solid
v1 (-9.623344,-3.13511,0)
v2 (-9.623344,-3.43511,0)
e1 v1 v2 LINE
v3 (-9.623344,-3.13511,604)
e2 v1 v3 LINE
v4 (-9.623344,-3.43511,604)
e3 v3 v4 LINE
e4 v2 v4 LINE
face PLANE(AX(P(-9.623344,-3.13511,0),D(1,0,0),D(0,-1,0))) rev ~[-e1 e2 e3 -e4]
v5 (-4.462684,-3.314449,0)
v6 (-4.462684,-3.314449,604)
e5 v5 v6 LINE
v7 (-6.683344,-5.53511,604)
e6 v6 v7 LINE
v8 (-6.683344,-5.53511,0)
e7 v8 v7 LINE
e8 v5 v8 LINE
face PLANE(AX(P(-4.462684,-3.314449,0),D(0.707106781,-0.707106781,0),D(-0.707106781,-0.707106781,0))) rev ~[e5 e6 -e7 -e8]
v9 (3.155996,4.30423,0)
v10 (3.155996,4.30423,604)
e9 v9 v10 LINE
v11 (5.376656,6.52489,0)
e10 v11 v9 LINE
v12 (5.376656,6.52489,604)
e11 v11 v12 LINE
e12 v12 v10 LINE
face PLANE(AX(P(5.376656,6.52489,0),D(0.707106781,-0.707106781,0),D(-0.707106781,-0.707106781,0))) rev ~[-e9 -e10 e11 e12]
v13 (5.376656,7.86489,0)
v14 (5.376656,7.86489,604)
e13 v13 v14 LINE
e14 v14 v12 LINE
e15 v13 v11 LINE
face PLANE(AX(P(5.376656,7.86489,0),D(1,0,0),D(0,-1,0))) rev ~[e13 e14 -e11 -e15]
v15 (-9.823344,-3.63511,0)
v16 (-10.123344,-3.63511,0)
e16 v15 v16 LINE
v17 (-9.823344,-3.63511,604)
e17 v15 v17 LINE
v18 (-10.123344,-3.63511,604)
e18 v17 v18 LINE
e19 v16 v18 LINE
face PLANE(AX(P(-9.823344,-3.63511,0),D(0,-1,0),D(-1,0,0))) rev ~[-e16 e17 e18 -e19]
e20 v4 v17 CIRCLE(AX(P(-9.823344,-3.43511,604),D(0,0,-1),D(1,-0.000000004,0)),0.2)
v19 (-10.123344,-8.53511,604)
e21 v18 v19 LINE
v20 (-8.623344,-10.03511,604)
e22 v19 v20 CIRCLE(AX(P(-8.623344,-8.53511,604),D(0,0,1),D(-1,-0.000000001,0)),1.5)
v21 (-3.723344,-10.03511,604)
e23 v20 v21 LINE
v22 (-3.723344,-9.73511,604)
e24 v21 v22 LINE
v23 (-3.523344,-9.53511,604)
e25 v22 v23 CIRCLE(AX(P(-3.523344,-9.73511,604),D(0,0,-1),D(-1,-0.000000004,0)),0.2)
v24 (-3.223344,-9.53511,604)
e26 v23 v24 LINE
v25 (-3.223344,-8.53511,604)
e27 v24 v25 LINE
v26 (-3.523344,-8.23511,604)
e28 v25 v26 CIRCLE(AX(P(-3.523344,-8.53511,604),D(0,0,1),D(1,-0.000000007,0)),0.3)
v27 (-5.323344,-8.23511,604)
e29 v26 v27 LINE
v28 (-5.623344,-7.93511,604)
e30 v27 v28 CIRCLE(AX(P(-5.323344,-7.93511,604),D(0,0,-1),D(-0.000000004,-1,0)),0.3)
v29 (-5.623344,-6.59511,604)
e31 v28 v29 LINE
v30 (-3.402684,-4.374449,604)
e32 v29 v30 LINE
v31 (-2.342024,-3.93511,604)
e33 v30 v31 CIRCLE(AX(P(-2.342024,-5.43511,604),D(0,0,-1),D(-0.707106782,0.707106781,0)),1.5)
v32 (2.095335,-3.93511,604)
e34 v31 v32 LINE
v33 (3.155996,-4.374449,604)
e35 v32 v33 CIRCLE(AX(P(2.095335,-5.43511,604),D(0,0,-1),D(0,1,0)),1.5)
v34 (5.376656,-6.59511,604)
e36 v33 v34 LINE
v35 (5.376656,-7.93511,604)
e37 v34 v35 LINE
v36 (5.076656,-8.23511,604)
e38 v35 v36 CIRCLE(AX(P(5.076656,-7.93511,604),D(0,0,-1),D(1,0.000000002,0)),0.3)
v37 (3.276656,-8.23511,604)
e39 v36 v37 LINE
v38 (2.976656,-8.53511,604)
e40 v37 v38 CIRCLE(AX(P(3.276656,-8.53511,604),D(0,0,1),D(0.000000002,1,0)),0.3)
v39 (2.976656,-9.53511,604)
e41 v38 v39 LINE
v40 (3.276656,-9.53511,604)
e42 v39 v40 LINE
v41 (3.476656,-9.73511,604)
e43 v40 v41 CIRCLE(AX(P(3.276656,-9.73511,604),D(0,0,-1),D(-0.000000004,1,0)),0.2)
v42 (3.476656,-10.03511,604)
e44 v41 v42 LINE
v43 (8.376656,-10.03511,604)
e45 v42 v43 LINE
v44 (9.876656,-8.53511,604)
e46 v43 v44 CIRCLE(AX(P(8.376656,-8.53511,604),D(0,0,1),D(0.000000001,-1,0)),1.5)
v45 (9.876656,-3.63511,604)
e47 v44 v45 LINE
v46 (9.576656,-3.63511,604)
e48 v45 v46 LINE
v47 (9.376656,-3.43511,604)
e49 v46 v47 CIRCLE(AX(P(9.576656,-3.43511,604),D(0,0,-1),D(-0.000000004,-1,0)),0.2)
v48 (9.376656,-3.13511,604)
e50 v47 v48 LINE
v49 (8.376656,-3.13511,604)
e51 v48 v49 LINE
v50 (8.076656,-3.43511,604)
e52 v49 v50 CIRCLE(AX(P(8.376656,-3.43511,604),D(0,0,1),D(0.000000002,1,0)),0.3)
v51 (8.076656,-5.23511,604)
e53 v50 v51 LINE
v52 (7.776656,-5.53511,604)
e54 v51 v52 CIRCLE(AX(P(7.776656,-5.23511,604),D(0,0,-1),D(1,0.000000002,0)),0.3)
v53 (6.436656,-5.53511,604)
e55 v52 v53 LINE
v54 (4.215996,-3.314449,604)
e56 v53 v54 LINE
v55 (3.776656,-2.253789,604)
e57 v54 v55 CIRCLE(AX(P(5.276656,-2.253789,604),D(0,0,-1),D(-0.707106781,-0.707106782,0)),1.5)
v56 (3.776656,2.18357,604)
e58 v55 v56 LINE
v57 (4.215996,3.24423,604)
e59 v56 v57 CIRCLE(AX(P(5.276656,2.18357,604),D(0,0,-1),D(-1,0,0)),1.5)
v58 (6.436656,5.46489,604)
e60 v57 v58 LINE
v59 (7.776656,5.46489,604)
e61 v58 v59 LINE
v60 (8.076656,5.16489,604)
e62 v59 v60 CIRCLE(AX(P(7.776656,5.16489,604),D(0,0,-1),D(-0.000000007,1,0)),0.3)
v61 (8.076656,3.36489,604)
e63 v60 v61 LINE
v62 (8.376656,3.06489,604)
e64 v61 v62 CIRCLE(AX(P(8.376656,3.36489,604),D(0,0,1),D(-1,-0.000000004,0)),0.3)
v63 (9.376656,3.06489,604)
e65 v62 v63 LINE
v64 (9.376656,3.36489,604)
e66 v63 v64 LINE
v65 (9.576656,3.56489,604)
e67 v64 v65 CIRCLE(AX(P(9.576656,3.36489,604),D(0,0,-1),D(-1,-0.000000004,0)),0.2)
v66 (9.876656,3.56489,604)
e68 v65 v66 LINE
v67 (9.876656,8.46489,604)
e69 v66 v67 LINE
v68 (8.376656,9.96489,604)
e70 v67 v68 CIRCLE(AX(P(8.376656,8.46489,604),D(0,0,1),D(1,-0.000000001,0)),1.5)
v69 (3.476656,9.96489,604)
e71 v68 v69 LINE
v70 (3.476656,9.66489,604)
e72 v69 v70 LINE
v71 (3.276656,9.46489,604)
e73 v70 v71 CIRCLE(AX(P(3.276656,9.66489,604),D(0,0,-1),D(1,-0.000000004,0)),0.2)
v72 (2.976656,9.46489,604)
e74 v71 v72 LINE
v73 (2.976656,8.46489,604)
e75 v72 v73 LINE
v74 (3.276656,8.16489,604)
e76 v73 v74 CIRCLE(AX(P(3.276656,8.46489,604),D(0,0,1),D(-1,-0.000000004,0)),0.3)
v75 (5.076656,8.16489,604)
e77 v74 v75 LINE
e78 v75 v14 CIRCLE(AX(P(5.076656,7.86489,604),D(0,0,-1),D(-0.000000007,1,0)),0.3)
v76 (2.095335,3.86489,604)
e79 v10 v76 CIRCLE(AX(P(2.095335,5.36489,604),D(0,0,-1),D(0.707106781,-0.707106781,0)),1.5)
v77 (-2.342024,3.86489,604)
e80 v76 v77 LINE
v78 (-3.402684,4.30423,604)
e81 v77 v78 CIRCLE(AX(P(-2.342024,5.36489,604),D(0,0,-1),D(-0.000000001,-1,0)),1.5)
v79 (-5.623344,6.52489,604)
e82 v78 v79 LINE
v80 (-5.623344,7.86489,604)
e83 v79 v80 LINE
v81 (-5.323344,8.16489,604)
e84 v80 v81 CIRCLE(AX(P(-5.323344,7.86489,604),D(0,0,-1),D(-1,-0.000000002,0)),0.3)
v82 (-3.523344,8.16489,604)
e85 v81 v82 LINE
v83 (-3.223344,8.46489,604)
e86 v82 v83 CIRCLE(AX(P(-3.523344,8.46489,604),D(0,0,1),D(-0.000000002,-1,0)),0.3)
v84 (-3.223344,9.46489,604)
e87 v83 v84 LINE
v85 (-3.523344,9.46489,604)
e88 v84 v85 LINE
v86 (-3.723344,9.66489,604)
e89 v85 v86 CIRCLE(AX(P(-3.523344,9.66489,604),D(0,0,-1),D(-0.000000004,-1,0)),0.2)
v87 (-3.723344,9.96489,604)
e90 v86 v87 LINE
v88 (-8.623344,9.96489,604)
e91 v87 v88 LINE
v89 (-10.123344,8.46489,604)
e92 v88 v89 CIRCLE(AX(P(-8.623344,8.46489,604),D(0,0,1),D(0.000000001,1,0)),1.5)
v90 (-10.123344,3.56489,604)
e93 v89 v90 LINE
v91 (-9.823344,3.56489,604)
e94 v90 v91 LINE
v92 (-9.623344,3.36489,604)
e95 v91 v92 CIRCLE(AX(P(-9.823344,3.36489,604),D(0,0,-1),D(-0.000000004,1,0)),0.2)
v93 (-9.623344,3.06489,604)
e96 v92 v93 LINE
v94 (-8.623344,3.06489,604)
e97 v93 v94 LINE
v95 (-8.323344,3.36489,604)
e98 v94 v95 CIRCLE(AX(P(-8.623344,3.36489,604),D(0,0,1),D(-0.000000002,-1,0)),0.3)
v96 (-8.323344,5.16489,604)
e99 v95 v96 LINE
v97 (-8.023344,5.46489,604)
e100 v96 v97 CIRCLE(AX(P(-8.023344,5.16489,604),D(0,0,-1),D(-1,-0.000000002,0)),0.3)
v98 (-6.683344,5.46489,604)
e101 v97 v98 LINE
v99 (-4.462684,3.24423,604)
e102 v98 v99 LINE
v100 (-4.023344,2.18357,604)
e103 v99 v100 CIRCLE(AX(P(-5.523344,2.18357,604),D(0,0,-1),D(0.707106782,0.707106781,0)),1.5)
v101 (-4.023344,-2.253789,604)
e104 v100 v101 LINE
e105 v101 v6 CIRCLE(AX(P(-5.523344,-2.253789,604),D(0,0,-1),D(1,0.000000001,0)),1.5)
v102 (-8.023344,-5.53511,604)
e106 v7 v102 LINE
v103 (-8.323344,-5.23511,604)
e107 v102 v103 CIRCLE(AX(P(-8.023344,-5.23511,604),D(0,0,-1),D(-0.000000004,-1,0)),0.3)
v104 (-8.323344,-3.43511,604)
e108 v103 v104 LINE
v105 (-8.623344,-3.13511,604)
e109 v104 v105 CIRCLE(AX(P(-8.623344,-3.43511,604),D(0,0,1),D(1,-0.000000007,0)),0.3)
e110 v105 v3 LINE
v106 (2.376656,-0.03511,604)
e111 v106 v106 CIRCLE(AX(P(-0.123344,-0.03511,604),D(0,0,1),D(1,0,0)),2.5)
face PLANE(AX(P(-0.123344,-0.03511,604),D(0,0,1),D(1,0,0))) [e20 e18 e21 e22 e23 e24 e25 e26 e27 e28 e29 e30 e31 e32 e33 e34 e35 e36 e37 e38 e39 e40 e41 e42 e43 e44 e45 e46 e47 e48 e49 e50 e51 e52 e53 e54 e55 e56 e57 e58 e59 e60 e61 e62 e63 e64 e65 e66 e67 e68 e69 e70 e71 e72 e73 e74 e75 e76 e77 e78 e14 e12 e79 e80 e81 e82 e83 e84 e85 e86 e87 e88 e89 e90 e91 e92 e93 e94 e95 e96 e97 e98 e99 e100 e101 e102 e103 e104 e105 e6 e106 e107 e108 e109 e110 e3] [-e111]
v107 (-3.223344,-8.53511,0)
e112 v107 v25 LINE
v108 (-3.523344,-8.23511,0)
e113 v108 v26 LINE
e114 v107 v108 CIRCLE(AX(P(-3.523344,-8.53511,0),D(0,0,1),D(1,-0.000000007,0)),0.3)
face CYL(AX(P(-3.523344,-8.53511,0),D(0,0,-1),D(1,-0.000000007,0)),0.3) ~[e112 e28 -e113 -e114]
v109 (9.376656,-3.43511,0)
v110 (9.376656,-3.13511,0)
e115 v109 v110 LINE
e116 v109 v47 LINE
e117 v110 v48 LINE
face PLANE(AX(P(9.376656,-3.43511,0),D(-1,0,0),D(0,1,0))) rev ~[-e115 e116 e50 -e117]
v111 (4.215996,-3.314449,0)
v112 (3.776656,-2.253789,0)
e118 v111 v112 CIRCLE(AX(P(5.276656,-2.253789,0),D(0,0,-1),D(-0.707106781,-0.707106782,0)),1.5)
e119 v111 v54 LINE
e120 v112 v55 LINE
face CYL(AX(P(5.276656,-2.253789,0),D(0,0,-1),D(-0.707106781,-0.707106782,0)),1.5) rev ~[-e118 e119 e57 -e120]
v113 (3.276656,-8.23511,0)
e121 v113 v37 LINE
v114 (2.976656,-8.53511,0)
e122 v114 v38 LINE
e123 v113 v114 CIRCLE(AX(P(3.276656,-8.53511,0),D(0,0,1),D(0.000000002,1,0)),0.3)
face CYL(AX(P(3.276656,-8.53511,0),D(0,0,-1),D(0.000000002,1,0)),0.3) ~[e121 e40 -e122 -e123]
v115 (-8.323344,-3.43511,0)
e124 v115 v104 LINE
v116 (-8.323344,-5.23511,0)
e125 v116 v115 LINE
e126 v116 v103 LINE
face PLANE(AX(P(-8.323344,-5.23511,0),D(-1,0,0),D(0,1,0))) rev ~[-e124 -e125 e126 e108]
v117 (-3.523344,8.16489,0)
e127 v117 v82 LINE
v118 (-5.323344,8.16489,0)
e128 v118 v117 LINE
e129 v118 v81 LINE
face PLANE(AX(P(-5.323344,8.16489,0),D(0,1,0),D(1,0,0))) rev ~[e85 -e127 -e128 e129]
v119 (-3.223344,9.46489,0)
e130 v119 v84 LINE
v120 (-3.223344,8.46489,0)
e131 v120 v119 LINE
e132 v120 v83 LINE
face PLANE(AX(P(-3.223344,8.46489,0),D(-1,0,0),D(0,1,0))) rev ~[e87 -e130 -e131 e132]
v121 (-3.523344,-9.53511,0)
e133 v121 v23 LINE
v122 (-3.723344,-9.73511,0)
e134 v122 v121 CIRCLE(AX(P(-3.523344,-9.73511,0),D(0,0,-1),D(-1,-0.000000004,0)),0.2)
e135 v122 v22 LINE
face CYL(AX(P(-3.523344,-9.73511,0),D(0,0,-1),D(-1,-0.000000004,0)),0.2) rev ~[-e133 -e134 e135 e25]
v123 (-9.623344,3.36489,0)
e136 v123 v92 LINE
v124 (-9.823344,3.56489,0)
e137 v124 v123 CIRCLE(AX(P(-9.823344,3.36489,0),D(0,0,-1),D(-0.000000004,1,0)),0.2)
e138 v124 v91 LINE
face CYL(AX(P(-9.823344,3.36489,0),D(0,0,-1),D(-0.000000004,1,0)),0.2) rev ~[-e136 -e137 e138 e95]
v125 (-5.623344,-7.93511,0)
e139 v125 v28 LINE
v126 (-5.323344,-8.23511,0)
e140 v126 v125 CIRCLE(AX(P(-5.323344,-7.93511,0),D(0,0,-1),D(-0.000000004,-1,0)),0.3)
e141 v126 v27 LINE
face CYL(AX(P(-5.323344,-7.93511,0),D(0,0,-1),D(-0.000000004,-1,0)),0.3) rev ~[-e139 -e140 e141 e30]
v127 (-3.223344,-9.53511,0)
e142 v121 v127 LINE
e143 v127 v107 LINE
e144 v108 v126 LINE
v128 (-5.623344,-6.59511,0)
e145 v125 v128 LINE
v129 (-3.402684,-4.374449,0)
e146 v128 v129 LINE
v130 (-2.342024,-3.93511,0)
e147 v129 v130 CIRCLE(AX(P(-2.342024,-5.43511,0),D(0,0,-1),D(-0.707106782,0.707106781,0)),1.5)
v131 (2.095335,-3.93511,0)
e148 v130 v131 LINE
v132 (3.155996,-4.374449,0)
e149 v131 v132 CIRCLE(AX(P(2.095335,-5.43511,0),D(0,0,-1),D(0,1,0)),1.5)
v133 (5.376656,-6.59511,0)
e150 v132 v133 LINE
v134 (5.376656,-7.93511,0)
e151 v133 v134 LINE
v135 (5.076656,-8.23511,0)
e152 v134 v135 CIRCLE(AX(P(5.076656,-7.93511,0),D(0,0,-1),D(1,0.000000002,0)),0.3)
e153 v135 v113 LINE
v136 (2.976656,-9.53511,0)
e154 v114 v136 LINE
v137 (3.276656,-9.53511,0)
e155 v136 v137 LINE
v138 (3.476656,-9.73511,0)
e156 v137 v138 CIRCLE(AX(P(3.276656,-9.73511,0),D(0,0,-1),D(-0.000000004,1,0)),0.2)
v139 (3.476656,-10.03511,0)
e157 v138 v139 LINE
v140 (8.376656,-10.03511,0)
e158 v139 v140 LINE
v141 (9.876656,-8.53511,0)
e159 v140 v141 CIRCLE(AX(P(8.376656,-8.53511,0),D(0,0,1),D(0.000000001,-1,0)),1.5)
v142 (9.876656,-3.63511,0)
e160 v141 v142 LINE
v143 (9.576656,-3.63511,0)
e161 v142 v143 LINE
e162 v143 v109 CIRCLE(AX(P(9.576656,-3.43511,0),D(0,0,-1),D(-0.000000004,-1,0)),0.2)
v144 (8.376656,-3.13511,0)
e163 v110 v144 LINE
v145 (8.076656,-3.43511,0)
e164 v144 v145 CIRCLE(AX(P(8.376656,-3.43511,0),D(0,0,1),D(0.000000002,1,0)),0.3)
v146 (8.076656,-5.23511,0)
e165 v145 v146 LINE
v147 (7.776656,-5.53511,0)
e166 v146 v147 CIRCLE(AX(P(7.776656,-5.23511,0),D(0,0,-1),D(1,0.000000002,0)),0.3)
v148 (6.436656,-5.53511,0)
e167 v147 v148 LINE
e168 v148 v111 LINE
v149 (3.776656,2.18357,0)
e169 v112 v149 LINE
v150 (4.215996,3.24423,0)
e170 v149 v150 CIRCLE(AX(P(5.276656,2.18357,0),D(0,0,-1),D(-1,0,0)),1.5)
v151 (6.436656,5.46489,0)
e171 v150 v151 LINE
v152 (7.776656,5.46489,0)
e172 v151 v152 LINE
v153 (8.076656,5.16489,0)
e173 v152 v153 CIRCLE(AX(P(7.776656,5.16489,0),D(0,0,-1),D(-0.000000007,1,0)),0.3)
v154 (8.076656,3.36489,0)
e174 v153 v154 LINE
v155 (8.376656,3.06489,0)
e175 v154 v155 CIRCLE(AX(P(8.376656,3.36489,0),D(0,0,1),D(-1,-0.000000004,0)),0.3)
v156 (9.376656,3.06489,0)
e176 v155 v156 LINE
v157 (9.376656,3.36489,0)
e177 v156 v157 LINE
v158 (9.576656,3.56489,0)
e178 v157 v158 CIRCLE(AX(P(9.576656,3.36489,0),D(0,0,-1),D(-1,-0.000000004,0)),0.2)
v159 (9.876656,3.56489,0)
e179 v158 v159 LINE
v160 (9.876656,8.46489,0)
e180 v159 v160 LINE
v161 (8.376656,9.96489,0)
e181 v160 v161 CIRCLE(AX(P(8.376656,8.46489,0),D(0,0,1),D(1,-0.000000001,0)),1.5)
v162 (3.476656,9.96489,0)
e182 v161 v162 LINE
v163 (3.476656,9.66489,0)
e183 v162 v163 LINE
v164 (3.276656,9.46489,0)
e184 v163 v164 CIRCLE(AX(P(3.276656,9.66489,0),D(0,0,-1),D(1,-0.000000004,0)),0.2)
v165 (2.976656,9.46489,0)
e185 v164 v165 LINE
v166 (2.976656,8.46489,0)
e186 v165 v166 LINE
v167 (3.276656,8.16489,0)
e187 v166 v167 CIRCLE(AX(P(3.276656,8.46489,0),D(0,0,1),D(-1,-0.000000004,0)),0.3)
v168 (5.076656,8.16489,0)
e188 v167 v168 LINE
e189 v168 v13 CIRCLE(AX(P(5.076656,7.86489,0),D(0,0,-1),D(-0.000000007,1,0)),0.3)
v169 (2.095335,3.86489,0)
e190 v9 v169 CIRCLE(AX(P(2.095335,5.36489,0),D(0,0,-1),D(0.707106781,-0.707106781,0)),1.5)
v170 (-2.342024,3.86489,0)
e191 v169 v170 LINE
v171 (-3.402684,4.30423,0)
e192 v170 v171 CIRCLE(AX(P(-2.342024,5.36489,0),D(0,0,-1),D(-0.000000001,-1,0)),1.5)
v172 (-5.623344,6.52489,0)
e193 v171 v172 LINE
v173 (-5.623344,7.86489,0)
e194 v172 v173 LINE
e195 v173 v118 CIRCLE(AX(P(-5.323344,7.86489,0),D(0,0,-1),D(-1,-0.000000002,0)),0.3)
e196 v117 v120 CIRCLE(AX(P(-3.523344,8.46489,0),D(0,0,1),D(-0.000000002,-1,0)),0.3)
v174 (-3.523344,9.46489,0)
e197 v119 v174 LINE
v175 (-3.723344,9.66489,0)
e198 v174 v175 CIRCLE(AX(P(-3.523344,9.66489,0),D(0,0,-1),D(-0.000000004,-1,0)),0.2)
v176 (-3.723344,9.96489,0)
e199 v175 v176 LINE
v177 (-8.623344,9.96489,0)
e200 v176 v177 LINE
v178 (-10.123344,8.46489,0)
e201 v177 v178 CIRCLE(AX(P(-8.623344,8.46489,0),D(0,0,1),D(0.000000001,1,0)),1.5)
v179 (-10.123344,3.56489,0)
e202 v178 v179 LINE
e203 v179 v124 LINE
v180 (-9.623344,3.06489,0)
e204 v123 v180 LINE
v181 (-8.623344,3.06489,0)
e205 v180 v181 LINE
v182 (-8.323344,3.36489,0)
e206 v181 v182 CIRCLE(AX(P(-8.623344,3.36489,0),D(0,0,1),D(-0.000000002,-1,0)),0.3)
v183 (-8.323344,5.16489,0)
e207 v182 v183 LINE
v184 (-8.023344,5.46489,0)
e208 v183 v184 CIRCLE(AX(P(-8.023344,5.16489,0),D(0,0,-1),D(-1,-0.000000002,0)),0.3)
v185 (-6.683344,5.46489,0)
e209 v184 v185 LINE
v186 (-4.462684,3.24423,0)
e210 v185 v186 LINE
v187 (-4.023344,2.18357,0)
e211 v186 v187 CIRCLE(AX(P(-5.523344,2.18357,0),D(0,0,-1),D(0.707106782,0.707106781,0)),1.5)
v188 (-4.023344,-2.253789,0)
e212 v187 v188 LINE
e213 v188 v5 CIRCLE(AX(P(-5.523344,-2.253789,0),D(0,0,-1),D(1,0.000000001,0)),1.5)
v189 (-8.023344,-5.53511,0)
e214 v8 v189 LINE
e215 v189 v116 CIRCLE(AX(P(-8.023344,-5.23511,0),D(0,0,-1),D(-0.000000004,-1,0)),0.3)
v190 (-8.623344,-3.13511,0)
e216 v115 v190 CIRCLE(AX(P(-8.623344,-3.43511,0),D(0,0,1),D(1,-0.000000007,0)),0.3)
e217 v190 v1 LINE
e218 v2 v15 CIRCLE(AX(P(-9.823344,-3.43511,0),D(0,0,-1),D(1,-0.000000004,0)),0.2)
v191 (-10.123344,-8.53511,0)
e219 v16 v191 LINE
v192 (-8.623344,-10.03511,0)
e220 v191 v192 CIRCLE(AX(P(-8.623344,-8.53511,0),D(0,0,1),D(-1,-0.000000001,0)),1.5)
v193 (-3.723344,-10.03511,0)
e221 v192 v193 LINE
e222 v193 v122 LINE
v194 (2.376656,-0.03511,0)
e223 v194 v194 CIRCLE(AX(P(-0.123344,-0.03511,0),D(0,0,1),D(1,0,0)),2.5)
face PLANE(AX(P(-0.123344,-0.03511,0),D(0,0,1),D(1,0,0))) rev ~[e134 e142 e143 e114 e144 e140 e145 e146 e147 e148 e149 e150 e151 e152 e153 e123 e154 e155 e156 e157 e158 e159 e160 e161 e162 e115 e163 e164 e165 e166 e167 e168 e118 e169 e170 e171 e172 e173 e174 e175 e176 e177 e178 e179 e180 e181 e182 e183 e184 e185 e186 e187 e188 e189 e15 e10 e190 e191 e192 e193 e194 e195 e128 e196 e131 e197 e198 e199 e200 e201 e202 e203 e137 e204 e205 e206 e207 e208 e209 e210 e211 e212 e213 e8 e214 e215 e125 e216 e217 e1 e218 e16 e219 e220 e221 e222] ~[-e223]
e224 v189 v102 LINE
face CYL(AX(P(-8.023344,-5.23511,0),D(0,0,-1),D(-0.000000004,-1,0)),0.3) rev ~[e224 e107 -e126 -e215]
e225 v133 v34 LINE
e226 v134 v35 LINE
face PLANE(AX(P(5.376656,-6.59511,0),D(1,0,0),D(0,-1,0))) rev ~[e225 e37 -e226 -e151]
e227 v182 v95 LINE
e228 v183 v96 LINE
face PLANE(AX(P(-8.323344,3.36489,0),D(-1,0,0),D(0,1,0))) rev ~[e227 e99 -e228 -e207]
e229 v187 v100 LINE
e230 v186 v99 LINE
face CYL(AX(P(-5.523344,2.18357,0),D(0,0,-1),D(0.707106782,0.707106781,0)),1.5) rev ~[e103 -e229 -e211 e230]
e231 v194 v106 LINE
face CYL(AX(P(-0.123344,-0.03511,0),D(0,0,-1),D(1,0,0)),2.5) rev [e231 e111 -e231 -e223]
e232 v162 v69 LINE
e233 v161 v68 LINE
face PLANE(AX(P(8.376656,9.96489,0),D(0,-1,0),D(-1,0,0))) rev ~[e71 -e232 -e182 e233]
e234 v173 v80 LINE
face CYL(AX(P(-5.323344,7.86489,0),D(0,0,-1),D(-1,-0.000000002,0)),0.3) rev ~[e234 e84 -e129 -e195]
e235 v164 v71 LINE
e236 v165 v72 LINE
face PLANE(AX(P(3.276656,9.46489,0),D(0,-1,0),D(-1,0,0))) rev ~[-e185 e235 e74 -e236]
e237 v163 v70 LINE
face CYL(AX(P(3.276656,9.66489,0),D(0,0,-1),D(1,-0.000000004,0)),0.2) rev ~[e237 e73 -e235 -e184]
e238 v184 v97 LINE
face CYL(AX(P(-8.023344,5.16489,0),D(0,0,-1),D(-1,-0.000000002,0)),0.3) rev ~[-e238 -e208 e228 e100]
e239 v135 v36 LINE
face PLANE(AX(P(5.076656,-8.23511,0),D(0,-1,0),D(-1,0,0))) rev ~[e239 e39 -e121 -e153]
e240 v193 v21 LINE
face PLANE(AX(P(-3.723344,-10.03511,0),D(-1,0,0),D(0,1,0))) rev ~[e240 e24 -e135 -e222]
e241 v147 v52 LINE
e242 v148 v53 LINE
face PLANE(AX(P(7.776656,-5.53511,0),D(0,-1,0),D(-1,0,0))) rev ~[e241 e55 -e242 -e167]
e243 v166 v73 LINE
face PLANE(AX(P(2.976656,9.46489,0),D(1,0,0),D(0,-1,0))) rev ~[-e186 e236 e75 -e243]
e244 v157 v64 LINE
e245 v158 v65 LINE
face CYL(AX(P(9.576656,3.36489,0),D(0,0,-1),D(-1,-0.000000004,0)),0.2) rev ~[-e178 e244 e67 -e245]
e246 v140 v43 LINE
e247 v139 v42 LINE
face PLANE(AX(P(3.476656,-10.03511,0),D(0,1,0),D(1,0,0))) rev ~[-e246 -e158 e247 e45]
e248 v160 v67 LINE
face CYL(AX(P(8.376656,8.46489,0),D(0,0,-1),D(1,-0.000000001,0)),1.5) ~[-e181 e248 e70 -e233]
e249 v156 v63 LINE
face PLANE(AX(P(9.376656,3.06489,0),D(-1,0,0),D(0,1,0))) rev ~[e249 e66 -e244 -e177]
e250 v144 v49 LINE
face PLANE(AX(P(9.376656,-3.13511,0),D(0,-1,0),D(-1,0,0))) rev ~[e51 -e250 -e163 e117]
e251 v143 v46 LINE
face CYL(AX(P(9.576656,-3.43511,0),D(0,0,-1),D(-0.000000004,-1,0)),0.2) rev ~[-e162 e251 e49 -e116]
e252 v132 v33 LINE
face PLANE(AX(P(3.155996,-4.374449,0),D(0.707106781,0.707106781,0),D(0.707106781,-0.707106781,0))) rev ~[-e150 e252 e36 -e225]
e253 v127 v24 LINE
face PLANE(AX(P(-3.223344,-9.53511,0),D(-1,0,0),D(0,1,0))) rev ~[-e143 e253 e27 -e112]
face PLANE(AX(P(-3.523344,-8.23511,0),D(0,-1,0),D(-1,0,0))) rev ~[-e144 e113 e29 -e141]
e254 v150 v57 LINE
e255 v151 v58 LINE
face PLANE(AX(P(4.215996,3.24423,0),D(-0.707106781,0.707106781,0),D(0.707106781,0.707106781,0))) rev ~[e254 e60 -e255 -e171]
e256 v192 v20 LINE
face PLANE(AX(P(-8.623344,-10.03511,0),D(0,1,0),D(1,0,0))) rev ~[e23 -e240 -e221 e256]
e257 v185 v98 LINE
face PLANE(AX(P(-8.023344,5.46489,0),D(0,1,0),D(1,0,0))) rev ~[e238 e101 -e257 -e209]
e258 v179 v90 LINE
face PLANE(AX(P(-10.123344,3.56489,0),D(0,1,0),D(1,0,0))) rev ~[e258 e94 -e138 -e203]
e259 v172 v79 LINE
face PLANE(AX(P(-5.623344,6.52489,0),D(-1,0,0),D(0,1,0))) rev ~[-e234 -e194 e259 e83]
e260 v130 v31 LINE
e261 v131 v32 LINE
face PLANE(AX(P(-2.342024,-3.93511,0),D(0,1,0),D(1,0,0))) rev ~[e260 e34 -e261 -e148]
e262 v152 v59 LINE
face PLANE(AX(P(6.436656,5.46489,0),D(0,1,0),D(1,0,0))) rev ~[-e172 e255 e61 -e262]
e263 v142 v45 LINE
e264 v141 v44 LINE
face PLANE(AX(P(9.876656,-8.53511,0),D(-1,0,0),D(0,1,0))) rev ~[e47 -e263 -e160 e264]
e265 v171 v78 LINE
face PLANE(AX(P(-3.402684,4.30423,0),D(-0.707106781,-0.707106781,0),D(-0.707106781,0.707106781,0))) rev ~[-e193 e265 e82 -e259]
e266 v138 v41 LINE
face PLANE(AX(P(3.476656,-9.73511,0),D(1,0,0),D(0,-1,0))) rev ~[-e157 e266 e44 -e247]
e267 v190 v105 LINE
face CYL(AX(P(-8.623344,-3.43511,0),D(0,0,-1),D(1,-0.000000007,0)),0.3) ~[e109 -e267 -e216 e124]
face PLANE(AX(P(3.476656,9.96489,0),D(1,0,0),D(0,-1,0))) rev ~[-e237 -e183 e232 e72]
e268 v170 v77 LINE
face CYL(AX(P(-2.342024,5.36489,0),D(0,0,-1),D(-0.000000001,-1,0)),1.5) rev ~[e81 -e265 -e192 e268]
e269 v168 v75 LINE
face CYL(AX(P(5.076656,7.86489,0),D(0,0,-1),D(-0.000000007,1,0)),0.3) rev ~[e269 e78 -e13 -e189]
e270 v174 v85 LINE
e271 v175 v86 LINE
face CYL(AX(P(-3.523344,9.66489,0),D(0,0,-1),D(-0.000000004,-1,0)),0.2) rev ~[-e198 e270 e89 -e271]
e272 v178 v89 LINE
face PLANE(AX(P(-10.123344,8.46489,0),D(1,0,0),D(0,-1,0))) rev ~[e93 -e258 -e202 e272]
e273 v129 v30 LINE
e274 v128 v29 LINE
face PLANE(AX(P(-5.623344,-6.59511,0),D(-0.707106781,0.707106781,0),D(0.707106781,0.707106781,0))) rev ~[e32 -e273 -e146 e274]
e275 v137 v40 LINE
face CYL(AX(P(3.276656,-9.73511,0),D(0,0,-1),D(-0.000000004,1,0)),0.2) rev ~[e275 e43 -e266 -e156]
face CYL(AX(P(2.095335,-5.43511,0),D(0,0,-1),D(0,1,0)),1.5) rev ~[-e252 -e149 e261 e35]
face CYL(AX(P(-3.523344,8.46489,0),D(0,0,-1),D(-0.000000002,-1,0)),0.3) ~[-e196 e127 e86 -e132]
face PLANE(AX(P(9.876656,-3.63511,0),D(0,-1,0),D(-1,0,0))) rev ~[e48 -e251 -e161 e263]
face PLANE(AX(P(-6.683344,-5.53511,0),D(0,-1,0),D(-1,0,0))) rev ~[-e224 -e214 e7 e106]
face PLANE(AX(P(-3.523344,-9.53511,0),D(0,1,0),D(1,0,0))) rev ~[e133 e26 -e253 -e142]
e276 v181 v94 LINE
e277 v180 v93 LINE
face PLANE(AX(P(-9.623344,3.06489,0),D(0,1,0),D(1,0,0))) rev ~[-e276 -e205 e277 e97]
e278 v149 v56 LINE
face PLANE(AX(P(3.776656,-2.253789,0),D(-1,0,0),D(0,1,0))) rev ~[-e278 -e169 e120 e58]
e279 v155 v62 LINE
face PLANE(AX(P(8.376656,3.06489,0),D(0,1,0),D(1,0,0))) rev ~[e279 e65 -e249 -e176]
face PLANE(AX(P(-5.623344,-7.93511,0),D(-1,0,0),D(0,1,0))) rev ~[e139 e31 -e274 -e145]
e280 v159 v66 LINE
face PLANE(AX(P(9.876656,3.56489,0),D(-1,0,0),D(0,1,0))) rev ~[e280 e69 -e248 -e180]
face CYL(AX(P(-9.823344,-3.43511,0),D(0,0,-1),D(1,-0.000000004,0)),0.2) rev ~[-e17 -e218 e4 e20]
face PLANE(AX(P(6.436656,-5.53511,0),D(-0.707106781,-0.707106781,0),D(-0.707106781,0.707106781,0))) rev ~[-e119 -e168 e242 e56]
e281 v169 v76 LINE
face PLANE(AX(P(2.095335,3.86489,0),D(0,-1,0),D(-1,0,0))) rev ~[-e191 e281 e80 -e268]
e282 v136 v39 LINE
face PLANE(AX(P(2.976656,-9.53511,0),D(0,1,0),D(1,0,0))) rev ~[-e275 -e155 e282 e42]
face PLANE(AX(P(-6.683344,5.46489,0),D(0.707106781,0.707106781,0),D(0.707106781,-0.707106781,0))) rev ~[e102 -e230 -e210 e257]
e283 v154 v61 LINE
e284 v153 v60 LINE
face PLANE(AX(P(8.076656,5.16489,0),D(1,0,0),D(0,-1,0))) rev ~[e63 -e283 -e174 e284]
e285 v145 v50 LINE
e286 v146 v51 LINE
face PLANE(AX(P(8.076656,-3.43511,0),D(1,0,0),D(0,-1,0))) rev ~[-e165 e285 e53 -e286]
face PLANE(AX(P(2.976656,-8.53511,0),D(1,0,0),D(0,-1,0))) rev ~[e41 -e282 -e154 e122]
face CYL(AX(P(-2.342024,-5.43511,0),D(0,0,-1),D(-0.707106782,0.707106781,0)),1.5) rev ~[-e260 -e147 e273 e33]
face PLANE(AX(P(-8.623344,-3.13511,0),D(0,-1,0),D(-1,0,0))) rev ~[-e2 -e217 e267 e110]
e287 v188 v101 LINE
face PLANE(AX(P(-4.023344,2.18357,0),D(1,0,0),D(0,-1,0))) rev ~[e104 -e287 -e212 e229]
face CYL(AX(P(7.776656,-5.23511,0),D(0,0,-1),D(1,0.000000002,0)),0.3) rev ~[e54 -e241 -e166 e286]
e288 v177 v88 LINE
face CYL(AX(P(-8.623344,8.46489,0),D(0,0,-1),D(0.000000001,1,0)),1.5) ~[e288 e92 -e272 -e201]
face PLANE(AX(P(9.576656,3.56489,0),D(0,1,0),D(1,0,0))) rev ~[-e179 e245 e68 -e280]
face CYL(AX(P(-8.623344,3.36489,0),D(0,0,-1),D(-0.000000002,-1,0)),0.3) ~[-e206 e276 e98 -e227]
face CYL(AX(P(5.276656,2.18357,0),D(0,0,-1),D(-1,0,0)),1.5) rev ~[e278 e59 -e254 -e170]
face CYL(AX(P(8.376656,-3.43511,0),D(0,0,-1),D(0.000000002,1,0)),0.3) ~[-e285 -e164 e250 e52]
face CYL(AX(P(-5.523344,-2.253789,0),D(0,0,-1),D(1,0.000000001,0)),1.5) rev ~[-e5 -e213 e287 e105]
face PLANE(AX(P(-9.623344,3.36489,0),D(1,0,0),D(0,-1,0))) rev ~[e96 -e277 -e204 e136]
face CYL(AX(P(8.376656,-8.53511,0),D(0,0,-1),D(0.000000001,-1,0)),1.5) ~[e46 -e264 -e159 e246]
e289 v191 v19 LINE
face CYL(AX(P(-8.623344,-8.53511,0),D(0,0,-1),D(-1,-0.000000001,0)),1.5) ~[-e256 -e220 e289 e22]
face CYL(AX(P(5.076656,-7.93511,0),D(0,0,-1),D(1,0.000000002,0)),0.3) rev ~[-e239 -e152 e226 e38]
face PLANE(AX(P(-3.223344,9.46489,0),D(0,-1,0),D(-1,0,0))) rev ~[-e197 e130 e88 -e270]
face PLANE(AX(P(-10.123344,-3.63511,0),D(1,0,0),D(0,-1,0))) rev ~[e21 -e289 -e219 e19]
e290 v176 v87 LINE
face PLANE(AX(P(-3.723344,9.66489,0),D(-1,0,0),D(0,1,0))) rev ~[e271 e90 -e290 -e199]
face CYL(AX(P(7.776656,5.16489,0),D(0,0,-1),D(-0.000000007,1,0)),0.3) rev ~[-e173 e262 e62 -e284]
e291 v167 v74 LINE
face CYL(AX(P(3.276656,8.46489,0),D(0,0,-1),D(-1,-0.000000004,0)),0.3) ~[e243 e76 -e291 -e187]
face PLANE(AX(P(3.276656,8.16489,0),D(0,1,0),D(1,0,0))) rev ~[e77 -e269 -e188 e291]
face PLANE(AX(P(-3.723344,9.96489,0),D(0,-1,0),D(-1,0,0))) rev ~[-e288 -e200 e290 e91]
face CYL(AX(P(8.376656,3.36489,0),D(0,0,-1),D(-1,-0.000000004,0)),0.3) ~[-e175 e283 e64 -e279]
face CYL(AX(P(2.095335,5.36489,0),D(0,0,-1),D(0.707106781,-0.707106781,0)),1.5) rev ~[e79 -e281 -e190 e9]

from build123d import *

# Parameters (mm, degrees)
SKETCH_1_R      = 2.5
EXTRUDE_1_DEPTH = 604


with BuildPart() as part:
    # 草图1 → 凸台-拉伸1 (new body)
    with BuildSketch(Plane.XY):
        with BuildLine():
            Line((4.215995631, 3.244230202), (6.436655803, 5.464890373))
            Line((6.436655803, 5.464890373), (7.776655803, 5.464890373))
            ThreePointArc((7.776655803, 5.464890373), (7.988787838, 5.377022408), (8.076655803, 5.164890373))
            Line((8.076655803, 5.164890373), (8.076655803, 3.364890373))
            ThreePointArc((8.076655803, 3.364890373), (8.164523769, 3.152758339), (8.376655803, 3.064890373))
            Line((8.376655803, 3.064890373), (9.376655803, 3.064890373))
            Line((9.376655803, 3.064890373), (9.376655803, 3.364890373))
            ThreePointArc((9.376655803, 3.364890373), (9.435234447, 3.50631173), (9.576655803, 3.564890373))
            Line((9.576655803, 3.564890373), (9.876655803, 3.564890373))
            Line((9.876655803, 3.564890373), (9.876655803, 8.464890373))
            ThreePointArc((9.876655803, 8.464890373), (9.437315975, 9.525550545), (8.376655803, 9.964890373))
            Line((8.376655803, 9.964890373), (3.476655803, 9.964890373))
            Line((3.476655803, 9.964890373), (3.476655803, 9.664890373))
            ThreePointArc((3.476655803, 9.664890373), (3.418077159, 9.523469017), (3.276655803, 9.464890373))
            Line((3.276655803, 9.464890373), (2.976655803, 9.464890373))
            Line((2.976655803, 9.464890373), (2.976655803, 8.464890373))
            ThreePointArc((2.976655803, 8.464890373), (3.064523769, 8.252758339), (3.276655803, 8.164890373))
            Line((3.276655803, 8.164890373), (5.076655803, 8.164890373))
            ThreePointArc((5.076655803, 8.164890373), (5.288787838, 8.077022408), (5.376655803, 7.864890373))
            Line((5.376655803, 7.864890373), (5.376655803, 6.524890373))
            Line((5.376655803, 6.524890373), (3.155995631, 4.304230202))
            ThreePointArc((3.155995631, 4.304230202), (2.669360608, 3.979071075), (2.09533546, 3.864890373))
            Line((2.09533546, 3.864890373), (-2.342023853, 3.864890373))
            ThreePointArc((-2.342023853, 3.864890373), (-2.916049002, 3.979071075), (-3.402684025, 4.304230202))
            Line((-3.402684025, 4.304230202), (-5.623344197, 6.524890373))
            Line((-5.623344197, 6.524890373), (-5.623344197, 7.864890373))
            ThreePointArc((-5.623344197, 7.864890373), (-5.535476231, 8.077022408), (-5.323344197, 8.164890373))
            Line((-5.323344197, 8.164890373), (-3.523344197, 8.164890373))
            ThreePointArc((-3.523344197, 8.164890373), (-3.311212162, 8.252758339), (-3.223344197, 8.464890373))
            Line((-3.223344197, 8.464890373), (-3.223344197, 9.464890373))
            Line((-3.223344197, 9.464890373), (-3.523344197, 9.464890373))
            ThreePointArc((-3.523344197, 9.464890373), (-3.664765553, 9.523469017), (-3.723344197, 9.664890373))
            Line((-3.723344197, 9.664890373), (-3.723344197, 9.964890373))
            Line((-3.723344197, 9.964890373), (-8.623344197, 9.964890373))
            ThreePointArc((-8.623344197, 9.964890373), (-9.684004369, 9.525550545), (-10.123344197, 8.464890373))
            Line((-10.123344197, 8.464890373), (-10.123344197, 3.564890373))
            Line((-10.123344197, 3.564890373), (-9.823344197, 3.564890373))
            ThreePointArc((-9.823344197, 3.564890373), (-9.681922841, 3.50631173), (-9.623344197, 3.364890373))
            Line((-9.623344197, 3.364890373), (-9.623344197, 3.064890373))
            Line((-9.623344197, 3.064890373), (-8.623344197, 3.064890373))
            ThreePointArc((-8.623344197, 3.064890373), (-8.411212162, 3.152758339), (-8.323344197, 3.364890373))
            Line((-8.323344197, 3.364890373), (-8.323344197, 5.164890373))
            ThreePointArc((-8.323344197, 5.164890373), (-8.235476231, 5.377022408), (-8.023344197, 5.464890373))
            Line((-8.023344197, 5.464890373), (-6.683344197, 5.464890373))
            Line((-6.683344197, 5.464890373), (-4.462684025, 3.244230202))
            ThreePointArc((-4.462684025, 3.244230202), (-4.137524898, 2.757595178), (-4.023344197, 2.18357003))
            Line((-4.023344197, 2.18357003), (-4.023344197, -2.253789283))
            ThreePointArc((-4.023344197, -2.253789283), (-4.137524898, -2.827814432), (-4.462684025, -3.314449455))
            Line((-4.462684025, -3.314449455), (-6.683344197, -5.535109627))
            Line((-6.683344197, -5.535109627), (-8.023344197, -5.535109627))
            ThreePointArc((-8.023344197, -5.535109627), (-8.235476231, -5.447241661), (-8.323344197, -5.235109627))
            Line((-8.323344197, -5.235109627), (-8.323344197, -3.435109627))
            ThreePointArc((-8.323344197, -3.435109627), (-8.411212162, -3.222977592), (-8.623344197, -3.135109627))
            Line((-8.623344197, -3.135109627), (-9.623344197, -3.135109627))
            Line((-9.623344197, -3.135109627), (-9.623344197, -3.435109627))
            ThreePointArc((-9.623344197, -3.435109627), (-9.681922841, -3.576530983), (-9.823344197, -3.635109627))
            Line((-9.823344197, -3.635109627), (-10.123344197, -3.635109627))
            Line((-10.123344197, -3.635109627), (-10.123344197, -8.535109627))
            ThreePointArc((-10.123344197, -8.535109627), (-9.684004369, -9.595769798), (-8.623344197, -10.035109627))
            Line((-8.623344197, -10.035109627), (-3.723344197, -10.035109627))
            Line((-3.723344197, -10.035109627), (-3.723344197, -9.735109627))
            ThreePointArc((-3.723344197, -9.735109627), (-3.664765553, -9.59368827), (-3.523344197, -9.535109627))
            Line((-3.523344197, -9.535109627), (-3.223344197, -9.535109627))
            Line((-3.223344197, -9.535109627), (-3.223344197, -8.535109627))
            ThreePointArc((-3.223344197, -8.535109627), (-3.311212162, -8.322977592), (-3.523344197, -8.235109627))
            Line((-3.523344197, -8.235109627), (-5.323344197, -8.235109627))
            ThreePointArc((-5.323344197, -8.235109627), (-5.535476231, -8.147241661), (-5.623344197, -7.935109627))
            Line((-5.623344197, -7.935109627), (-5.623344197, -6.595109627))
            Line((-5.623344197, -6.595109627), (-3.402684025, -4.374449455))
            ThreePointArc((-3.402684025, -4.374449455), (-2.916049002, -4.049290328), (-2.342023853, -3.935109627))
            Line((-2.342023853, -3.935109627), (2.09533546, -3.935109627))
            ThreePointArc((2.09533546, -3.935109627), (2.669360608, -4.049290328), (3.155995631, -4.374449455))
            Line((3.155995631, -4.374449455), (5.376655803, -6.595109627))
            Line((5.376655803, -6.595109627), (5.376655803, -7.935109627))
            ThreePointArc((5.376655803, -7.935109627), (5.288787838, -8.147241661), (5.076655803, -8.235109627))
            Line((5.076655803, -8.235109627), (3.276655803, -8.235109627))
            ThreePointArc((3.276655803, -8.235109627), (3.064523769, -8.322977592), (2.976655803, -8.535109627))
            Line((2.976655803, -8.535109627), (2.976655803, -9.535109627))
            Line((2.976655803, -9.535109627), (3.276655803, -9.535109627))
            ThreePointArc((3.276655803, -9.535109627), (3.418077159, -9.59368827), (3.476655803, -9.735109627))
            Line((3.476655803, -9.735109627), (3.476655803, -10.035109627))
            Line((3.476655803, -10.035109627), (8.376655803, -10.035109627))
            ThreePointArc((8.376655803, -10.035109627), (9.437315975, -9.595769798), (9.876655803, -8.535109627))
            Line((9.876655803, -8.535109627), (9.876655803, -3.635109627))
            Line((9.876655803, -3.635109627), (9.576655803, -3.635109627))
            ThreePointArc((9.576655803, -3.635109627), (9.435234447, -3.576530983), (9.376655803, -3.435109627))
            Line((9.376655803, -3.435109627), (9.376655803, -3.135109627))
            Line((9.376655803, -3.135109627), (8.376655803, -3.135109627))
            ThreePointArc((8.376655803, -3.135109627), (8.164523769, -3.222977592), (8.076655803, -3.435109627))
            Line((8.076655803, -3.435109627), (8.076655803, -5.235109627))
            ThreePointArc((8.076655803, -5.235109627), (7.988787838, -5.447241661), (7.776655803, -5.535109627))
            Line((7.776655803, -5.535109627), (6.436655803, -5.535109627))
            Line((6.436655803, -5.535109627), (4.215995631, -3.314449455))
            ThreePointArc((4.215995631, -3.314449455), (3.890836504, -2.827814432), (3.776655803, -2.253789283))
            Line((3.776655803, -2.253789283), (3.776655803, 2.18357003))
            ThreePointArc((3.776655803, 2.18357003), (3.890836504, 2.757595178), (4.215995631, 3.244230202))
        make_face()
        with Locations((-0.123344197, -0.035109627)):
            Circle(SKETCH_1_R, mode=Mode.SUBTRACT)
    extrude(amount=EXTRUDE_1_DEPTH)


solid = part.part
